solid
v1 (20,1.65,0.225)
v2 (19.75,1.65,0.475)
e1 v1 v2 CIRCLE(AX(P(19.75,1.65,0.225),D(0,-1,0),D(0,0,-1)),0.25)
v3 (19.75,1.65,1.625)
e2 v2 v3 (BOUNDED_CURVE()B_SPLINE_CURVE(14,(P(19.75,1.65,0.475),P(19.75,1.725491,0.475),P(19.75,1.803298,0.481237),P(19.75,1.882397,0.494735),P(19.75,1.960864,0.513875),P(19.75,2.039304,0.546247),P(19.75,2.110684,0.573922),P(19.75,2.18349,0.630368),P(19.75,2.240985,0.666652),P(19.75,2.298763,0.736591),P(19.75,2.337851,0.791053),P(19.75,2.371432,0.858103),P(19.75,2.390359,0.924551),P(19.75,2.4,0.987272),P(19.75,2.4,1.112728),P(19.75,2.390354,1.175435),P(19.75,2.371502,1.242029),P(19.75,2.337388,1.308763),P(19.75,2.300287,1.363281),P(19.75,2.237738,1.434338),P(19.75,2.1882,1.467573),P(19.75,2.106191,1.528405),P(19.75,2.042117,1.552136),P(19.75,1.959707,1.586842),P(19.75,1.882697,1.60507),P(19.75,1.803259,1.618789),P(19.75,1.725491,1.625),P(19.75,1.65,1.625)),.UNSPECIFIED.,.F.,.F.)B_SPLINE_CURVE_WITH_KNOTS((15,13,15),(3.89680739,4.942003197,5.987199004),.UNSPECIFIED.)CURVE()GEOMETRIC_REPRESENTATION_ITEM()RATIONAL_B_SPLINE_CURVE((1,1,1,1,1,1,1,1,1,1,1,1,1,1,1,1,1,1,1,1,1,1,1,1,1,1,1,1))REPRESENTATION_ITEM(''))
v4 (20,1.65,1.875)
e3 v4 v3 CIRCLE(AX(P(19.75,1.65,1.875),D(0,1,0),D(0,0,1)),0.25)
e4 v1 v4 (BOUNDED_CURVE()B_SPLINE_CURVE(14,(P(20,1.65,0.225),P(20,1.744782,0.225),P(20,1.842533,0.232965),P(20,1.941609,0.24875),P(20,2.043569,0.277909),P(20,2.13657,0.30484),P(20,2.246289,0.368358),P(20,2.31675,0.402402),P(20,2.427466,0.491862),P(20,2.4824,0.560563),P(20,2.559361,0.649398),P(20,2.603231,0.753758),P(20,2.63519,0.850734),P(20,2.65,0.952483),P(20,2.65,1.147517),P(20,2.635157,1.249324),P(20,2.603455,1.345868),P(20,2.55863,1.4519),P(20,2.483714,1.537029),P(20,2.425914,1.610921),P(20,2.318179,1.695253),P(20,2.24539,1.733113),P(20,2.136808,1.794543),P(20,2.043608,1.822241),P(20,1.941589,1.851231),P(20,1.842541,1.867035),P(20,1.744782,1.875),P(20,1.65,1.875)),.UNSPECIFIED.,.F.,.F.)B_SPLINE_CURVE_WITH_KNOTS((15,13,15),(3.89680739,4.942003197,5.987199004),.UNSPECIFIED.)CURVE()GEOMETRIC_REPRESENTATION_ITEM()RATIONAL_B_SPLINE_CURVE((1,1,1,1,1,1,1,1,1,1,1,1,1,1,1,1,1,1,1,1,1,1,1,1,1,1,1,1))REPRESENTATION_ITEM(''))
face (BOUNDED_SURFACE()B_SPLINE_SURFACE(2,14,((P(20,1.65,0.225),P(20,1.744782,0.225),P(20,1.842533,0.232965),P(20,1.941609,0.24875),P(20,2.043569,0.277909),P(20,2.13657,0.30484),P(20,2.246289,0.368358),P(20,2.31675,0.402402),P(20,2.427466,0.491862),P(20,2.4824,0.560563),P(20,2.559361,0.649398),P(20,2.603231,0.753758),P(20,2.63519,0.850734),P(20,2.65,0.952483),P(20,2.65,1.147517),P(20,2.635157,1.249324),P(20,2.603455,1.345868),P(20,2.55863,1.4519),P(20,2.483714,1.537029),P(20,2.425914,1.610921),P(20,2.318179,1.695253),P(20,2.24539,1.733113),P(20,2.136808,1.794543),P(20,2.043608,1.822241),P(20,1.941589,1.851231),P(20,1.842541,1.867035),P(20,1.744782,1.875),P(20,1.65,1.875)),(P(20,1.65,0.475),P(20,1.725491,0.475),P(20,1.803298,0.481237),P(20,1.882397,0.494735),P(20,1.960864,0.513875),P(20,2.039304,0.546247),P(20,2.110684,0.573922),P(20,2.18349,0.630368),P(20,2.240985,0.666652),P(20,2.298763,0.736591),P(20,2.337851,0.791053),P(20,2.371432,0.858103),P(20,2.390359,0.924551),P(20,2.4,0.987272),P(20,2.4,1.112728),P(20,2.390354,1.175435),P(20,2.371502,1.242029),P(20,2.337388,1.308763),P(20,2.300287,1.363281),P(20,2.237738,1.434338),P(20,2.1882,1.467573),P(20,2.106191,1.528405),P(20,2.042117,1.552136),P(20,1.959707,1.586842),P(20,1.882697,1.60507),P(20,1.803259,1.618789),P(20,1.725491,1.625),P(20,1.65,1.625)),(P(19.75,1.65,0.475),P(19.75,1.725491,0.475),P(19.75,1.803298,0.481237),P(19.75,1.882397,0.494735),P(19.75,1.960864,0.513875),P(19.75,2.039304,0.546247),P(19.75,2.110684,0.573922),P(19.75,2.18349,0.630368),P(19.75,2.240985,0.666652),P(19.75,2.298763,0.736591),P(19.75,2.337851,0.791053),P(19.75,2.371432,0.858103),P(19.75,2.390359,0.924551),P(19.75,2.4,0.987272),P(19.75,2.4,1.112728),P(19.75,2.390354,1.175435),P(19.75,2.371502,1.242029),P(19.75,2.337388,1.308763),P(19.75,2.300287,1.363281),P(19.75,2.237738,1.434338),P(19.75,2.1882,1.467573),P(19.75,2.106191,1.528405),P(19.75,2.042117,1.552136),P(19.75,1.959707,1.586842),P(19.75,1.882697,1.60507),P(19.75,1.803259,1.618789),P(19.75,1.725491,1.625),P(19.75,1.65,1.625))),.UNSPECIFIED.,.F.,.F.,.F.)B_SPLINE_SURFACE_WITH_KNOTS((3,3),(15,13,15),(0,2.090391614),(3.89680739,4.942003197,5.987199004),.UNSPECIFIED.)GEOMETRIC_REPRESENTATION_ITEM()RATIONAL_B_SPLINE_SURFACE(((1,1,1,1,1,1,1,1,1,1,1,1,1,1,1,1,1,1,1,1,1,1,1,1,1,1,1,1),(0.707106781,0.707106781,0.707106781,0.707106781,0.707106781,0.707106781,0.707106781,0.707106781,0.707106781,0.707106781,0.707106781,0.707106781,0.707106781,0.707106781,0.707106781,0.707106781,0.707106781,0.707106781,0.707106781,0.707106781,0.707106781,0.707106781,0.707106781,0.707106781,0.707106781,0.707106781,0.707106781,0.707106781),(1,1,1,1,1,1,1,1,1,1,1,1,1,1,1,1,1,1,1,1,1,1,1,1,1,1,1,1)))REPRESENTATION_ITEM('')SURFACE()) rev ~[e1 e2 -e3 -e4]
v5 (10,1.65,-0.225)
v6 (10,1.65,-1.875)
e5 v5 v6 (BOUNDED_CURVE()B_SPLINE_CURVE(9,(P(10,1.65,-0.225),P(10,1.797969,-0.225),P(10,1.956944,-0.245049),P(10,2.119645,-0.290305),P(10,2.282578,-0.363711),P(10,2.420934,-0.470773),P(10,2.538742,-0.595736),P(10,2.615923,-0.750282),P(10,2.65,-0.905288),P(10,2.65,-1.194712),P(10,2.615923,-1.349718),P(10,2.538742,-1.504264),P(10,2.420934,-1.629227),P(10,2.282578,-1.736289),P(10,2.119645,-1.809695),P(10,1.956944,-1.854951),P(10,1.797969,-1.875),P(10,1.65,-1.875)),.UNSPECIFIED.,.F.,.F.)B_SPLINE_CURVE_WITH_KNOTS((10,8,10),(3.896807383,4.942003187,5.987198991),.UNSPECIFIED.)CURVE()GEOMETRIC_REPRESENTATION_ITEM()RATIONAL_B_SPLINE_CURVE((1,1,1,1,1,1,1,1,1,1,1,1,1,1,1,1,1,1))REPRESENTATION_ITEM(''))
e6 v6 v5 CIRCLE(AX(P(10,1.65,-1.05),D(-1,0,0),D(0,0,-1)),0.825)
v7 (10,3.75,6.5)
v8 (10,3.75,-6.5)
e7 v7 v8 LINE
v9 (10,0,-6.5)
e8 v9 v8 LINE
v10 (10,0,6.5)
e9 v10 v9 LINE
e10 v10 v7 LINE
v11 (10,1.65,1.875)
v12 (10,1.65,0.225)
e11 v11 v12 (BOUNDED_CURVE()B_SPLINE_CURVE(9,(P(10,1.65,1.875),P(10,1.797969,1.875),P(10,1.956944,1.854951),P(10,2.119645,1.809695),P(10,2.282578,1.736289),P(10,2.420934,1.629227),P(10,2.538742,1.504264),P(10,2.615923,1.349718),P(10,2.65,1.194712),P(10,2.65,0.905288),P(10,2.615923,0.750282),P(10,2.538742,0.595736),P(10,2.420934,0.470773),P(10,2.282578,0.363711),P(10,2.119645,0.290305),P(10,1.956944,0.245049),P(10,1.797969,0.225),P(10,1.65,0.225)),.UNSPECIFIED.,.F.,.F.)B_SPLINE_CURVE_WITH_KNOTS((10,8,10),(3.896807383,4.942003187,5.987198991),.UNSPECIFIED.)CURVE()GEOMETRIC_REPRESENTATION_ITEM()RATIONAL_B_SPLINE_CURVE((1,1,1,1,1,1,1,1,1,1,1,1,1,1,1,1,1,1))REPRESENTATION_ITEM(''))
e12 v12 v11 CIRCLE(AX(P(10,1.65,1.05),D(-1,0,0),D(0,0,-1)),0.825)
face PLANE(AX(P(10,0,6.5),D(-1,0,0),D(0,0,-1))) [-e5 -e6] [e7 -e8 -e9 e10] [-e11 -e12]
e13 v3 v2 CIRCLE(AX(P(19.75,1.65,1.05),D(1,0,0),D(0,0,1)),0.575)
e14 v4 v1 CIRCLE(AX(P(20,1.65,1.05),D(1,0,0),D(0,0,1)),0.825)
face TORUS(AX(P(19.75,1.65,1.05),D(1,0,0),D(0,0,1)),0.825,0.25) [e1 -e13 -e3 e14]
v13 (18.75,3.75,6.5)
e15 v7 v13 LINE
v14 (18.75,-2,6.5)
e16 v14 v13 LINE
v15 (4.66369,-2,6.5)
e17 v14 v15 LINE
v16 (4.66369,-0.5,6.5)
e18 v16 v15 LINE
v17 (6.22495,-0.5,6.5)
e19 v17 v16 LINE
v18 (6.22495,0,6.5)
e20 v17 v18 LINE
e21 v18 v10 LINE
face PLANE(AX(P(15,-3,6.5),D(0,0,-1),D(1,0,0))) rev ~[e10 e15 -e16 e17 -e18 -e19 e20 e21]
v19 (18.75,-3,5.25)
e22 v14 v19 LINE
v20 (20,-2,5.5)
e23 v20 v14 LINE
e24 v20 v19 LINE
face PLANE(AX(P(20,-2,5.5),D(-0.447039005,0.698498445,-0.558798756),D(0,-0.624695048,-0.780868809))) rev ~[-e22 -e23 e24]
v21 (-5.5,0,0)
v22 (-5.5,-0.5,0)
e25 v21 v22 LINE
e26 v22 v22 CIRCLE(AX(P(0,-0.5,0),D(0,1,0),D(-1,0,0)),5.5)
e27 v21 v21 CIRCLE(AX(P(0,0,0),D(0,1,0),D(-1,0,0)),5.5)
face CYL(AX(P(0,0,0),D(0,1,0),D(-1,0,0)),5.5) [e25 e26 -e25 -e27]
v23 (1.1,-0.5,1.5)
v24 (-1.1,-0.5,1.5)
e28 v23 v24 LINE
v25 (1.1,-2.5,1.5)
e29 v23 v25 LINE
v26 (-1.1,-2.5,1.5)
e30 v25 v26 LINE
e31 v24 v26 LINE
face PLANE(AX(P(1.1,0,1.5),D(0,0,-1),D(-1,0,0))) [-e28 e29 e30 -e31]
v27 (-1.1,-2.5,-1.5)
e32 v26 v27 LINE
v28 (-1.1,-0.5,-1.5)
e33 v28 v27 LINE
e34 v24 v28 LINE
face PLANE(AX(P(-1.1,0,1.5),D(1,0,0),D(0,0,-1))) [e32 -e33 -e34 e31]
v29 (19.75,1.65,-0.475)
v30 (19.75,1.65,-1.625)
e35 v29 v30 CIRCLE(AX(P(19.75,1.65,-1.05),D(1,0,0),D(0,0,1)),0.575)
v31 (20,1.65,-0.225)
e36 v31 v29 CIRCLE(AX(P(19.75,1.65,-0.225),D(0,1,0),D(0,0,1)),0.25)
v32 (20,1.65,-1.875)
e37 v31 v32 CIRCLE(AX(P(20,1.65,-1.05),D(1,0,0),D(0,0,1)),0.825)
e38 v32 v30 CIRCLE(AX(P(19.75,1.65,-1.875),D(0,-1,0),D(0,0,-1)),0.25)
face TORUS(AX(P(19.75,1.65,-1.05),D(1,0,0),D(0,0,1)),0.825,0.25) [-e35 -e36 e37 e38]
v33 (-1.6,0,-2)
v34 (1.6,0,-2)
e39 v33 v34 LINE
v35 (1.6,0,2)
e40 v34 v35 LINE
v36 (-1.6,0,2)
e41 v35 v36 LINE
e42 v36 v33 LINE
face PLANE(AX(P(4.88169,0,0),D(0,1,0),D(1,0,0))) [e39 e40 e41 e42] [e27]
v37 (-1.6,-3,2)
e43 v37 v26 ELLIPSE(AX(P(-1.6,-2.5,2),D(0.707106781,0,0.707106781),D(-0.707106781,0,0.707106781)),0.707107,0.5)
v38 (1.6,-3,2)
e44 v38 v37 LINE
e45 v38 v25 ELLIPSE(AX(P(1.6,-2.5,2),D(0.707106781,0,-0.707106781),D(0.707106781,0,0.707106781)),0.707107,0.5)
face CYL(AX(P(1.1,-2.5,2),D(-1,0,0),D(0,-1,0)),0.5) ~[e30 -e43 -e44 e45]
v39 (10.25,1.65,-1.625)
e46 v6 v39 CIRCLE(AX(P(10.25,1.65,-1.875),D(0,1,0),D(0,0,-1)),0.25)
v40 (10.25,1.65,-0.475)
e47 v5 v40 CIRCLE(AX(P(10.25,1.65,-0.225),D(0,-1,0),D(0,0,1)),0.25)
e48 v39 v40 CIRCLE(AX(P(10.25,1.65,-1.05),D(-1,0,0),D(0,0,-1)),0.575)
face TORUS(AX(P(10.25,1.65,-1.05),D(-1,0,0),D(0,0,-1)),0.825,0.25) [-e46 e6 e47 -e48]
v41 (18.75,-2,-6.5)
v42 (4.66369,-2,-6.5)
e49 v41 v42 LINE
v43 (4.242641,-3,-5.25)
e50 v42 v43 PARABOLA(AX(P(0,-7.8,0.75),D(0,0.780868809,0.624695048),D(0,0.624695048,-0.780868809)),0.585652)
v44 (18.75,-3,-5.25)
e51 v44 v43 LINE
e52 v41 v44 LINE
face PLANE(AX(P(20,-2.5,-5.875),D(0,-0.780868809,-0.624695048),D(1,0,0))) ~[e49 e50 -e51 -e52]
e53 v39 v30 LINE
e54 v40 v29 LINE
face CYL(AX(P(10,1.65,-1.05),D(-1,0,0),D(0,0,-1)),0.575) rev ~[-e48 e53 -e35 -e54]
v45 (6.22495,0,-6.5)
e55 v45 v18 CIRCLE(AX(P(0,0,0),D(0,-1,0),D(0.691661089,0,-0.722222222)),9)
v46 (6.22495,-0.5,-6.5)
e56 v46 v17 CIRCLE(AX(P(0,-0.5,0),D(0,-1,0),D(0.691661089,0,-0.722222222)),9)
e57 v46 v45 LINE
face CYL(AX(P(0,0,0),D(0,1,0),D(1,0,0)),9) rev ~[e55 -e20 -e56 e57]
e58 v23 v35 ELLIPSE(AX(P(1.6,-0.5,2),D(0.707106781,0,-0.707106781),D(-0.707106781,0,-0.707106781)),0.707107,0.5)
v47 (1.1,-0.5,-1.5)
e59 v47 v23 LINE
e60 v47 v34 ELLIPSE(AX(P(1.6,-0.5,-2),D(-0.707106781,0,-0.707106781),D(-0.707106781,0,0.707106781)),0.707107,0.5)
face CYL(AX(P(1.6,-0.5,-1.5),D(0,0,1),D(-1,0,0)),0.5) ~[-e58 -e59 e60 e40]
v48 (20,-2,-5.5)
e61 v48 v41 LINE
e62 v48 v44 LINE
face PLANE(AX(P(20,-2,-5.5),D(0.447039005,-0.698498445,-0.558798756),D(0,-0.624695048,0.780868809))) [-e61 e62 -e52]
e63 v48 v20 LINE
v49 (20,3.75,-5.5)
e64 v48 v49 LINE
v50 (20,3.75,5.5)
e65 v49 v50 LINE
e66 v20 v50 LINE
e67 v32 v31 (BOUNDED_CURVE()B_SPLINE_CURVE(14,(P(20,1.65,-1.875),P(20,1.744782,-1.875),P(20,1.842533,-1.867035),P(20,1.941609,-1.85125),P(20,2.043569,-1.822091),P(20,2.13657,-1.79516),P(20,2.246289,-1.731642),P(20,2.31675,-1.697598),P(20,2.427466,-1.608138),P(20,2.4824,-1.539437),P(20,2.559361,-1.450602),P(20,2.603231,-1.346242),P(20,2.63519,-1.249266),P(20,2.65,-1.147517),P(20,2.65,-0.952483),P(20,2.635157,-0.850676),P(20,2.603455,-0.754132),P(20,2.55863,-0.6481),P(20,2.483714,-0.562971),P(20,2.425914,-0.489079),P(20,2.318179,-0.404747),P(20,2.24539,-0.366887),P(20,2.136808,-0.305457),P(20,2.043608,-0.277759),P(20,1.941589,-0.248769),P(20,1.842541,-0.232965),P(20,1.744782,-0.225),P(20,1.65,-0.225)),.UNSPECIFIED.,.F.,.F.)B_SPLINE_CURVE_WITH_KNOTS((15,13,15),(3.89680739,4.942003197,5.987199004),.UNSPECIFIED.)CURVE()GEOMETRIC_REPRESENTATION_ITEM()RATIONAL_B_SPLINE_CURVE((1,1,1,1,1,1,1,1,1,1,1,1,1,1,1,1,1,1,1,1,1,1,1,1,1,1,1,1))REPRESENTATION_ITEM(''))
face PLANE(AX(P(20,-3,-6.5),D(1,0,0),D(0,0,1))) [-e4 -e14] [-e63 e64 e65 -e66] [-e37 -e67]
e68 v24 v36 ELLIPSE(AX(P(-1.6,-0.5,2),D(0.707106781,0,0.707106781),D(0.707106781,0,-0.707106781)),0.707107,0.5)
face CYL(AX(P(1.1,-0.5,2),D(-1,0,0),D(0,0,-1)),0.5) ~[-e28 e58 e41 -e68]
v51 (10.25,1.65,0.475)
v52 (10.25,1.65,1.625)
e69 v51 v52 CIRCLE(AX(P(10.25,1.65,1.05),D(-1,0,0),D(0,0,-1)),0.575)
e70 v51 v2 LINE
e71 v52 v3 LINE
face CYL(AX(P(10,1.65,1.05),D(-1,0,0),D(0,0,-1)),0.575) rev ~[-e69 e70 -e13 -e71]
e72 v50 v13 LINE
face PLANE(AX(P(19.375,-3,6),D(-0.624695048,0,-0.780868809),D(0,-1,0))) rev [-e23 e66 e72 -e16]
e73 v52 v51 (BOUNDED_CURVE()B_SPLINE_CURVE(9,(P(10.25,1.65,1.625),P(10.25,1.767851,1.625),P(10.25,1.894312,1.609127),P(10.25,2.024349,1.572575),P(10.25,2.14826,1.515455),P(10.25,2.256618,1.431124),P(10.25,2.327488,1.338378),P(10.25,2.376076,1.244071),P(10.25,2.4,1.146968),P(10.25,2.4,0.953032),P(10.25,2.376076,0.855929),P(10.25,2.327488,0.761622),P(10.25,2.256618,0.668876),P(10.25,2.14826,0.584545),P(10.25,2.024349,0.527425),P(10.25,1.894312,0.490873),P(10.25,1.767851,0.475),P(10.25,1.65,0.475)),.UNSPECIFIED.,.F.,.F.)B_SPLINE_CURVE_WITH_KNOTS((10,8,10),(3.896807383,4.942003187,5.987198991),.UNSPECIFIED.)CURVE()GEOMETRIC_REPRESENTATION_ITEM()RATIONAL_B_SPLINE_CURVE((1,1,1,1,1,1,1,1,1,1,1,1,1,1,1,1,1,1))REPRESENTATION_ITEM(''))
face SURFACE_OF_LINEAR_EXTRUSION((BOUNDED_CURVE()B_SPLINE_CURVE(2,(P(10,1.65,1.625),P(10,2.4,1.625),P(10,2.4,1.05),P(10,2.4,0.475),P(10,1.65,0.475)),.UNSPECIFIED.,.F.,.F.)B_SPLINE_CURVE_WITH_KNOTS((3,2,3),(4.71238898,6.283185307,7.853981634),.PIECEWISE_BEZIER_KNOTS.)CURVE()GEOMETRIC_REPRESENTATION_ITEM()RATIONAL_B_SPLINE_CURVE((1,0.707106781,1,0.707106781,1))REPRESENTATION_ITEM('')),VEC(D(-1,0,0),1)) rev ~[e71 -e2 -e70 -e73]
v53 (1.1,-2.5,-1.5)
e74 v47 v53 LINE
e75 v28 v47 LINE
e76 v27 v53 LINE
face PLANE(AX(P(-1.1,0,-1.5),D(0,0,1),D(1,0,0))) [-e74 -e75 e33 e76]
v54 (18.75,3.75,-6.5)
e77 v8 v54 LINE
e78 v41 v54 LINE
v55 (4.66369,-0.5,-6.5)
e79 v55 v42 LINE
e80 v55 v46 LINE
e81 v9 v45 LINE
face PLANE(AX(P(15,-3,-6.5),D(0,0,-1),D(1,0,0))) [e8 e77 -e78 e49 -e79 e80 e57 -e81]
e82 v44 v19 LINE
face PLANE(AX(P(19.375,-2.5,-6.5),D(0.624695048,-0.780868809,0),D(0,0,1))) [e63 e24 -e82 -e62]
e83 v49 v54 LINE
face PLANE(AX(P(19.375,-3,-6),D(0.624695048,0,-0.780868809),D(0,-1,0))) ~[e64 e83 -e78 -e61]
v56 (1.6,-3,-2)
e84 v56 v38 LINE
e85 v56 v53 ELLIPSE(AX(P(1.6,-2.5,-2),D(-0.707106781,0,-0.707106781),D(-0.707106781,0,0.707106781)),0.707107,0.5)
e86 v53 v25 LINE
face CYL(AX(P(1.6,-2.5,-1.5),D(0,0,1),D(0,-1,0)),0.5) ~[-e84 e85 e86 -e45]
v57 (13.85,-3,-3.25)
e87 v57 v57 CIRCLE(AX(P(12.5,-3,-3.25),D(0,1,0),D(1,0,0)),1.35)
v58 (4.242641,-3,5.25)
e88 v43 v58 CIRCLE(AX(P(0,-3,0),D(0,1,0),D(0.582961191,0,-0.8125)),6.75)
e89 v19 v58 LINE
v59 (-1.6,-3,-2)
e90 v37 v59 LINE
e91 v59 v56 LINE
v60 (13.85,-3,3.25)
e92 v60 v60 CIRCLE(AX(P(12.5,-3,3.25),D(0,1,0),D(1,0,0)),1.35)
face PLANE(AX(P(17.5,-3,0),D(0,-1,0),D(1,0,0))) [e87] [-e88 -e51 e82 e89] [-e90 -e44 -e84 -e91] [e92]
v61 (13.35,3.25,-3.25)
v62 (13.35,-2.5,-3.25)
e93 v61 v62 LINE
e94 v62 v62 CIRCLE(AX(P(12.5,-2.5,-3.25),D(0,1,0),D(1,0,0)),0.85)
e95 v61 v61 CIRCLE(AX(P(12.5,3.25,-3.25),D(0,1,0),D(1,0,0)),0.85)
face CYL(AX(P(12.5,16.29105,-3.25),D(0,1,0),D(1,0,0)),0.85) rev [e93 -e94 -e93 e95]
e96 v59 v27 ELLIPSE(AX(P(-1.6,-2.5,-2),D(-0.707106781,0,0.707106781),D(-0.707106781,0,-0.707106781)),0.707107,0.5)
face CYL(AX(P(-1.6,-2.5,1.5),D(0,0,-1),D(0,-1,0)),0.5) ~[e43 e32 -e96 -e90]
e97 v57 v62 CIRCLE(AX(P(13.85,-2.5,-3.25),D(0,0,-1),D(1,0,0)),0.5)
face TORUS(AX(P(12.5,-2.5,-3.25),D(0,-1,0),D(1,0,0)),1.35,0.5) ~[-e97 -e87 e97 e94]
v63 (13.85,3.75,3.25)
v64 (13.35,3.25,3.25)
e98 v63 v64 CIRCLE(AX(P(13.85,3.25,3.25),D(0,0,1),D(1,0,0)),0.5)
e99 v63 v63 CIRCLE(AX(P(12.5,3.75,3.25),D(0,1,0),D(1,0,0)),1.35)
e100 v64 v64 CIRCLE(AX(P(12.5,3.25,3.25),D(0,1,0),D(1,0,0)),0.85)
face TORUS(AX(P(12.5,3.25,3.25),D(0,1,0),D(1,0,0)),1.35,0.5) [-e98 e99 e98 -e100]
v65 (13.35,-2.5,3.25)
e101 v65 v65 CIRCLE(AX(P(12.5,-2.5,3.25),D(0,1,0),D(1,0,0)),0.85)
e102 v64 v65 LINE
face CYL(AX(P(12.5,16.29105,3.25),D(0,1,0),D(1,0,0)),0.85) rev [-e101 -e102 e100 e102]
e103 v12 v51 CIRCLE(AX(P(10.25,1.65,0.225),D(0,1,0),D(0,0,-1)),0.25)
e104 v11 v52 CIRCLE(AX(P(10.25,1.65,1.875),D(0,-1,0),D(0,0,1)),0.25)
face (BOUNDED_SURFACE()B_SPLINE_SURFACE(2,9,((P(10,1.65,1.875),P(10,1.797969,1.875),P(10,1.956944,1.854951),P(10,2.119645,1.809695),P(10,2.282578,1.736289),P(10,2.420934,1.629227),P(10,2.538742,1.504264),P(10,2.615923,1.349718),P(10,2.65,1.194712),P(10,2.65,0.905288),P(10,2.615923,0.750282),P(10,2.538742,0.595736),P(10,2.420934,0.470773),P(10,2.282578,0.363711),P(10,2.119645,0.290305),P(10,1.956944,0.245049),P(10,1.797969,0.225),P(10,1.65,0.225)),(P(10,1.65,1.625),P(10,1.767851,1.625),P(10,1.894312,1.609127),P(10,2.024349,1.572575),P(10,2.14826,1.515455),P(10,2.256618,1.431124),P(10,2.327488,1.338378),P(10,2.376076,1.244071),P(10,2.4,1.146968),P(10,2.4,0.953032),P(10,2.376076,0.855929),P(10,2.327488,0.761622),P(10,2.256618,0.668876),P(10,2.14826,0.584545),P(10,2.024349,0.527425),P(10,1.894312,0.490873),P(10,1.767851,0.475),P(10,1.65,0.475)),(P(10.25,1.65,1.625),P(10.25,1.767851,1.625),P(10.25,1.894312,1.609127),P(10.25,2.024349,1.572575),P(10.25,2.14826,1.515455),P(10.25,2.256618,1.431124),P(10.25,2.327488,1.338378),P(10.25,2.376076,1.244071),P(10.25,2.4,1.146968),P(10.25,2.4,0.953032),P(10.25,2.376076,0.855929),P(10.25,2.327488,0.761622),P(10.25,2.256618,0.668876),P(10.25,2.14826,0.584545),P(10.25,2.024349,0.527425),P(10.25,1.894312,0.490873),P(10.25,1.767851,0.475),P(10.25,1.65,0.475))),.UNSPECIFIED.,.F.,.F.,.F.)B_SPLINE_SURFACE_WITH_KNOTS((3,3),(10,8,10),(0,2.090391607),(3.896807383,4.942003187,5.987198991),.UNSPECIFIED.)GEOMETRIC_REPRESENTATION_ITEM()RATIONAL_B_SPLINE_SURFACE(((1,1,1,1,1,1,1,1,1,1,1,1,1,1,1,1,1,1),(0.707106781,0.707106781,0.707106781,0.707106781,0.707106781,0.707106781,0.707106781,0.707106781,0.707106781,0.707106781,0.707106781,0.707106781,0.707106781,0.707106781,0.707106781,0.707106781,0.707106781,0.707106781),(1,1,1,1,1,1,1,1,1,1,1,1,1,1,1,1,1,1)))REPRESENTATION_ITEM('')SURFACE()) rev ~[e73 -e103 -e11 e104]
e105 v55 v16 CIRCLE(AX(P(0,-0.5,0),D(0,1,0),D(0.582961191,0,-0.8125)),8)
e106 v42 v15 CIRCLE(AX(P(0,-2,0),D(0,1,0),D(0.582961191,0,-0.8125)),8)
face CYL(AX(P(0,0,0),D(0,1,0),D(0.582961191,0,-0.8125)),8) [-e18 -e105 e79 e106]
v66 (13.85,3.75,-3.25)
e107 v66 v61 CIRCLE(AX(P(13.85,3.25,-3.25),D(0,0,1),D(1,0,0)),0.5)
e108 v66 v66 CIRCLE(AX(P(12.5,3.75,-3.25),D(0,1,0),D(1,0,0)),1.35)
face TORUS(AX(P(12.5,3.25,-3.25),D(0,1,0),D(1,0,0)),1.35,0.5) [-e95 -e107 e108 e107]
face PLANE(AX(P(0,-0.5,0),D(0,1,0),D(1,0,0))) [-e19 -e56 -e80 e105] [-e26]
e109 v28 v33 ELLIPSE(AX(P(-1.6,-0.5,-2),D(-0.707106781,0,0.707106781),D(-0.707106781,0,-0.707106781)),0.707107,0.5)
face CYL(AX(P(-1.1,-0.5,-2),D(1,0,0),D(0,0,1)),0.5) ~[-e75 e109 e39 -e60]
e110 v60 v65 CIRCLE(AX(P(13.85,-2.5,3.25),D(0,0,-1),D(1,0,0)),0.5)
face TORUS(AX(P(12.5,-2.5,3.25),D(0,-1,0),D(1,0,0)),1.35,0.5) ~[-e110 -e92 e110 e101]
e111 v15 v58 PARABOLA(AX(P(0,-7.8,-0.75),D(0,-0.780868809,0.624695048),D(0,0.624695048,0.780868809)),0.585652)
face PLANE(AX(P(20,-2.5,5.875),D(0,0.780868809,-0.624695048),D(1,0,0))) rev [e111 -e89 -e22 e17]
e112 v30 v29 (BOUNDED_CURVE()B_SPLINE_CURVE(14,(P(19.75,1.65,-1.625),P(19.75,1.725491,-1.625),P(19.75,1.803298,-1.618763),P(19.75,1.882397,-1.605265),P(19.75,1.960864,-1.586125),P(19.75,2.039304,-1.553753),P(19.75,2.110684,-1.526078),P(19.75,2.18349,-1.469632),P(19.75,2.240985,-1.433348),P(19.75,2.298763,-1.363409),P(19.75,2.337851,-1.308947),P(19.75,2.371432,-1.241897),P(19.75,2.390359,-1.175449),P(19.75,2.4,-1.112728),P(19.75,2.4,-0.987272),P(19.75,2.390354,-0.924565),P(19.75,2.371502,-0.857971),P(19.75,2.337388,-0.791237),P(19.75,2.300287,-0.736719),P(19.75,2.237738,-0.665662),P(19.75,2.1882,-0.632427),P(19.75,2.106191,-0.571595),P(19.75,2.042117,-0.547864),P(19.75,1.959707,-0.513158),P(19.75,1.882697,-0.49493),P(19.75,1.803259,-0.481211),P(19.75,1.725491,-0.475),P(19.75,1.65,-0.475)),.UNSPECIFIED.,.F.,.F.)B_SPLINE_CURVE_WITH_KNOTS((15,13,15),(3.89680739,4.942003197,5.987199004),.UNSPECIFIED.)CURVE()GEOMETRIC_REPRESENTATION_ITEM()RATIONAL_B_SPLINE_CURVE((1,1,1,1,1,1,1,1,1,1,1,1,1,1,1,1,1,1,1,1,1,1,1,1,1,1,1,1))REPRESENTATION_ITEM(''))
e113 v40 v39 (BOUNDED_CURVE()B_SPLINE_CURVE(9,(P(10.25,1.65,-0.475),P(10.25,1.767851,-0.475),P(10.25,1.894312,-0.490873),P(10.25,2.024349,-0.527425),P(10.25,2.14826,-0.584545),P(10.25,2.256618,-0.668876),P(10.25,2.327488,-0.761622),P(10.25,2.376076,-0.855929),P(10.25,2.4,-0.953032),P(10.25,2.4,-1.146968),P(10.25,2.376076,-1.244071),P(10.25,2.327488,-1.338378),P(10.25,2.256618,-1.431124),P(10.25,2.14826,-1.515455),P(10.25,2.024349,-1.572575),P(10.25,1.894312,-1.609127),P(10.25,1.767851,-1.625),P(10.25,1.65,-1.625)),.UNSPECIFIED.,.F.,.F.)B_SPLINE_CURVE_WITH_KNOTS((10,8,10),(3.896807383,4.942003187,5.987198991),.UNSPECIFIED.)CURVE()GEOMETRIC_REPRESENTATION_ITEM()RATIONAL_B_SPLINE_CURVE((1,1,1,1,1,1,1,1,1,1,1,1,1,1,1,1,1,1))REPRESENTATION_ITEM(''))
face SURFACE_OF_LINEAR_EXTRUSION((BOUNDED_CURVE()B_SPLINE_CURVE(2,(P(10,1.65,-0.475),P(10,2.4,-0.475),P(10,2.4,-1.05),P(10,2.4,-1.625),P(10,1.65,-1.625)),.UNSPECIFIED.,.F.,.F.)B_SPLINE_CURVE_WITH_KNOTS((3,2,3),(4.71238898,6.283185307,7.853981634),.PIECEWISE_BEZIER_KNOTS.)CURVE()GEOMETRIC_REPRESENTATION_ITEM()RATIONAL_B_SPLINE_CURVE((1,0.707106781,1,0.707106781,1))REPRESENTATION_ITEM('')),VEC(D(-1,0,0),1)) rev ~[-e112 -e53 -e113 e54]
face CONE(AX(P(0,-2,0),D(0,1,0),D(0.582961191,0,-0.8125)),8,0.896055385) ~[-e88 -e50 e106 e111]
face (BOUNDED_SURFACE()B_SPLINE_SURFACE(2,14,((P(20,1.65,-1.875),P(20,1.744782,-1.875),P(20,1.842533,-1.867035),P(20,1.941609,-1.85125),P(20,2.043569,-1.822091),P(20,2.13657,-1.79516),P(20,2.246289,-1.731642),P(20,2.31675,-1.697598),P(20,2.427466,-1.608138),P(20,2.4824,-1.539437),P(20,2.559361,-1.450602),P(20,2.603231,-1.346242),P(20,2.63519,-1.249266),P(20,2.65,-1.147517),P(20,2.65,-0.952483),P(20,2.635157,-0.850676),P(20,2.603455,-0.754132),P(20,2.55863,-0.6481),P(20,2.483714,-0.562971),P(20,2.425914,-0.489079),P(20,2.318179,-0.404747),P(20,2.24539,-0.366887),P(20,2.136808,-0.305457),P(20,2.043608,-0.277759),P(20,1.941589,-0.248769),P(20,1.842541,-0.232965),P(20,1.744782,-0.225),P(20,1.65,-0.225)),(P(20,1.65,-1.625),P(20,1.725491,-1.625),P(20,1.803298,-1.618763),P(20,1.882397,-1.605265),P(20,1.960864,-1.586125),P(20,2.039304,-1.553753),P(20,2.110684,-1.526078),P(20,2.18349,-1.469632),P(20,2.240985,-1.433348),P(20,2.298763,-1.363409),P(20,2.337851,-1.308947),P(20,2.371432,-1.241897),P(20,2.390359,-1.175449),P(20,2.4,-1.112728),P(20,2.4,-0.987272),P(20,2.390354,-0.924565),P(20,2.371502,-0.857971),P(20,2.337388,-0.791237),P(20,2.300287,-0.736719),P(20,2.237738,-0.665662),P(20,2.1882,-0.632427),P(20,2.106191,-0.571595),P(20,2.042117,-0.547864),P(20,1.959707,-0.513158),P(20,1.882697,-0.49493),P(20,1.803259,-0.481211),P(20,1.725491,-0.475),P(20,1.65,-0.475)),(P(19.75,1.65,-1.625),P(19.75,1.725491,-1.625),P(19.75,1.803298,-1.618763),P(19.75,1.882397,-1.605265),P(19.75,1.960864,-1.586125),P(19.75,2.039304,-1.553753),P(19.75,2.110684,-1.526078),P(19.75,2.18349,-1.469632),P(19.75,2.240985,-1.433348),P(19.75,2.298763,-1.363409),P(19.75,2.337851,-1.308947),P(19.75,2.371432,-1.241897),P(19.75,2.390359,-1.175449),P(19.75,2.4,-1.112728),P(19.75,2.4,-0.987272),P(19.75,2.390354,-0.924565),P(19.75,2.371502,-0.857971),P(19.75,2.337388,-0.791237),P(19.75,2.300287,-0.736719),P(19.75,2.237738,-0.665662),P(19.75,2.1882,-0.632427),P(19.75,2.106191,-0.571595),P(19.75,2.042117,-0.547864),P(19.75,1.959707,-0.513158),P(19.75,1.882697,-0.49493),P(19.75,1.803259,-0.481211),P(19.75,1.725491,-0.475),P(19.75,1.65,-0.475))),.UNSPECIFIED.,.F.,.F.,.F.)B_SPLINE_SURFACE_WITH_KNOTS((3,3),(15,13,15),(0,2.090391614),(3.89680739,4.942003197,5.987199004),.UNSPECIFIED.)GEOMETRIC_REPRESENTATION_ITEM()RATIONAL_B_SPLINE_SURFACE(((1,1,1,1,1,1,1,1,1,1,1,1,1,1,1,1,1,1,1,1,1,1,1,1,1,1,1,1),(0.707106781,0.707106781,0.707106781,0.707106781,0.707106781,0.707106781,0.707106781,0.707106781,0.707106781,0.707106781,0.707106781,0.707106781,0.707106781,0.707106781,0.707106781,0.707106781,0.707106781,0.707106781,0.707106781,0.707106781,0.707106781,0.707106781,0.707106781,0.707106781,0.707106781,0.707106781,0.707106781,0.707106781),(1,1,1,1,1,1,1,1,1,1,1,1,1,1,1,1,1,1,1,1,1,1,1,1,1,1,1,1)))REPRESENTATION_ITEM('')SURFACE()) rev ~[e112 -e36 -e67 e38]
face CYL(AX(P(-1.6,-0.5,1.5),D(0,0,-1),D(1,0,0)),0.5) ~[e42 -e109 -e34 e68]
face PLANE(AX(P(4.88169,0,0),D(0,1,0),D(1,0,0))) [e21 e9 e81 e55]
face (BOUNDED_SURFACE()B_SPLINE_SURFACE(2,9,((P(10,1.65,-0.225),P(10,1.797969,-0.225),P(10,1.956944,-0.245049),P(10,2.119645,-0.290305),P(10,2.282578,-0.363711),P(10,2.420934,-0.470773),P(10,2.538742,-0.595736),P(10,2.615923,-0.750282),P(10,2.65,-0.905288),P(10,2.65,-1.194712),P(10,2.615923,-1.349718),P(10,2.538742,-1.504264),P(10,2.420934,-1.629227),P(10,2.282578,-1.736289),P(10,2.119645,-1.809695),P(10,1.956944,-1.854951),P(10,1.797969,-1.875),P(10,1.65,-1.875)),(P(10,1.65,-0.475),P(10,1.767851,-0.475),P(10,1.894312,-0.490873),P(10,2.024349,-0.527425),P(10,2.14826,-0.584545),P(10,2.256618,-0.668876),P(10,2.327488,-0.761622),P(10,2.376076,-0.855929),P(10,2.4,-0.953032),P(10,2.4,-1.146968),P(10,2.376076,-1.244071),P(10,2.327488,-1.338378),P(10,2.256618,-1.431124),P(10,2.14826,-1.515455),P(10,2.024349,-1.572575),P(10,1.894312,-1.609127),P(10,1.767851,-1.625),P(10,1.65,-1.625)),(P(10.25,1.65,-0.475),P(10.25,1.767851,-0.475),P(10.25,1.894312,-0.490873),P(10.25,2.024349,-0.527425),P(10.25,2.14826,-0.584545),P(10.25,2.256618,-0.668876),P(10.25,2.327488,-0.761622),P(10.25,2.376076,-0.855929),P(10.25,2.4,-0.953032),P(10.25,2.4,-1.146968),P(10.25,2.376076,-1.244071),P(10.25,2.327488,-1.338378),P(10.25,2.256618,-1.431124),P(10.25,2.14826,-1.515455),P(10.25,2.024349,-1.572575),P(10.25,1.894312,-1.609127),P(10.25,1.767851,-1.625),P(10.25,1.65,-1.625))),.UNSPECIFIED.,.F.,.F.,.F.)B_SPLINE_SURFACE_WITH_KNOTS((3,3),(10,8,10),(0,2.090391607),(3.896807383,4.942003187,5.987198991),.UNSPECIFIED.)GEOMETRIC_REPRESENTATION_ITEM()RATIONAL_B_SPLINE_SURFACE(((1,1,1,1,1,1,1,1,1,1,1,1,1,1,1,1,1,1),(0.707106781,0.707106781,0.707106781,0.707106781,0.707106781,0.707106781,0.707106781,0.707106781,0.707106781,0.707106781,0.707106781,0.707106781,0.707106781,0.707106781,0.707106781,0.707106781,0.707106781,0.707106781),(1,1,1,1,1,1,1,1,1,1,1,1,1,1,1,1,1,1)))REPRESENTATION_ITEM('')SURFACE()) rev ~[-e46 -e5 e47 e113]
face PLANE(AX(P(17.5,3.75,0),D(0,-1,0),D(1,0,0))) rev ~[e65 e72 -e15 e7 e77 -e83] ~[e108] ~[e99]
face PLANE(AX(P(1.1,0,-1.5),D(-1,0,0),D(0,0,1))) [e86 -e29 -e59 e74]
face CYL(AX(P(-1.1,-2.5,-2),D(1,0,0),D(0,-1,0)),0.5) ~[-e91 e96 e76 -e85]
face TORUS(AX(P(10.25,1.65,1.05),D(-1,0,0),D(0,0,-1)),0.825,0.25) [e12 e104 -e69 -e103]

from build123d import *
from OCP.BRepFilletAPI import BRepFilletAPI_MakeChamfer

# Parameters (mm, degrees)
BOSS_EXTRUDE1_DEPTH     = 3
SKETCH2_R               = 9
SKETCH2_R_2             = 5.5
CUT_EXTRUDE1_DEPTH      = 0.5
SKETCH3_W               = 5
SKETCH3_H               = 13
BOSS_EXTRUDE2_DEPTH     = 3.75
CUT_EXTRUDE2_DEPTH      = 19.291049724
CUT_EXTRUDE2_DEPTH_BACK = 19.291049724
SKETCH4_R               = 0.85
SKETCH5_W               = 5
SKETCH5_H               = 13
BOSS_EXTRUDE3_DEPTH     = 6.75
CHAMFER1_SIZE           = 1
CHAMFER1_SIZE2          = 1.25
FILLET1_R               = 0.5
CUT_EXTRUDE3_DEPTH      = 21.051496204
FILLET2_R               = 0.25


with BuildPart() as part:
    # Sketch1 → Boss-Extrude1 (new body)
    with BuildSketch(Plane(origin=(0, 0, 0), x_dir=(1, 0, 0), z_dir=(0, 1, 0))):
        with BuildLine():
            Line((15, 6.5), (4.663689527, 6.5))
            ThreePointArc((4.663689527, 6.5), (-8, 0), (4.663689527, -6.5))
            Line((4.663689527, -6.5), (15, -6.5))
            Line((15, -6.5), (15, 6.5))
        make_face()
        Polygon((-1.1, -1.019803903), (-1.1, 1.019803903), (-1.1, 1.5), (1.1, 1.5), (1.1, 1.019803903), (1.1, -1.019803903), (1.1, -1.5), (-1.1, -1.5), align=None, mode=Mode.SUBTRACT)
    extrude(amount=-BOSS_EXTRUDE1_DEPTH)

    # Sketch2 → Cut-Extrude1 (cut)
    with BuildSketch(Plane(origin=(0, 0, 0), x_dir=(1, 0, 0), z_dir=(0, 1, 0))):
        Circle(SKETCH2_R)
        with Locations(Location((0, 0, 0), (0, 0, 180))):
            Circle(SKETCH2_R_2, mode=Mode.SUBTRACT)
    extrude(amount=-CUT_EXTRUDE1_DEPTH, mode=Mode.SUBTRACT)

    # Sketch3 → Boss-Extrude2 (add)
    with BuildSketch(Plane(origin=(0, 0, 0), x_dir=(1, 0, 0), z_dir=(0, 1, 0))):
        with Locations((12.5, 0)):
            Rectangle(SKETCH3_W, SKETCH3_H)
    extrude(amount=BOSS_EXTRUDE2_DEPTH)

    # Sketch4 → Cut-Extrude2 (cut, two sides: drawn at the far end of the back side and taken through both)
    with BuildSketch(Plane.XZ.offset(3).offset(-CUT_EXTRUDE2_DEPTH_BACK)):
        with Locations((12.5, 3.25)):
            Circle(SKETCH4_R)
        with Locations((12.5, -3.25)):
            Circle(SKETCH4_R)
    extrude(amount=CUT_EXTRUDE2_DEPTH + CUT_EXTRUDE2_DEPTH_BACK, mode=Mode.SUBTRACT)

    # Sketch5 → Boss-Extrude3 (add)
    with BuildSketch(Plane.XZ.offset(3)):
        with Locations((17.5, 0)):
            Rectangle(SKETCH5_W, SKETCH5_H)
    extrude(amount=-BOSS_EXTRUDE3_DEPTH)

    # Chamfer1: one chamfer whose edges measure the first distance from different faces: ONE call of the kernel's chamfer builder (chamfer() names one face for all edges)
    chamfer1_edges_1 = [part.edges().sort_by_distance(p)[0] for p in [
        (12.331844763, -3, -6.5),
    ]]
    chamfer1_side_1 = [part.faces().sort_by_distance(p)[0] for p in [
        (13.606286876, 0.018062264, -6.5),
    ]]
    chamfer1_edges_2 = [part.edges().sort_by_distance(p)[0] for p in [
        (-8, -3, 0),
    ]]
    chamfer1_side_2 = [part.faces().sort_by_distance(p)[0] for p in [
        (-8, -1.75, 0),
    ]]
    chamfer1_edges_3 = [part.edges().sort_by_distance(p)[0] for p in [
        (12.331844763, -3, 6.5),
    ]]
    chamfer1_side_3 = [part.faces().sort_by_distance(p)[0] for p in [
        (13.606286876, 0.018062264, 6.5),
    ]]
    chamfer1_edges_4 = [part.edges().sort_by_distance(p)[0] for p in [
        (20, 0.375, 6.5),
        (20, 0.375, -6.5),
        (20, -3, 0),
    ]]
    chamfer1_side_4 = [part.faces().sort_by_distance(p)[0] for p in [
        (20, 0.375, 0),
    ]]
    chamfer1 = BRepFilletAPI_MakeChamfer(part.part.solid().wrapped)
    for e in chamfer1_edges_1:
        chamfer1.Add(CHAMFER1_SIZE, CHAMFER1_SIZE2, e.wrapped, chamfer1_side_1[0].wrapped)  # the first distance lies on this face
    for e in chamfer1_edges_2:
        chamfer1.Add(CHAMFER1_SIZE, CHAMFER1_SIZE2, e.wrapped, chamfer1_side_2[0].wrapped)  # the first distance lies on this face
    for e in chamfer1_edges_3:
        chamfer1.Add(CHAMFER1_SIZE, CHAMFER1_SIZE2, e.wrapped, chamfer1_side_3[0].wrapped)  # the first distance lies on this face
    for e in chamfer1_edges_4:
        chamfer1.Add(CHAMFER1_SIZE, CHAMFER1_SIZE2, e.wrapped, chamfer1_side_4[0].wrapped)  # the first distance lies on this face
    add(Compound.cast(chamfer1.Shape()), mode=Mode.REPLACE)

    # Fillet1
    fillet1_edges = [part.edges().sort_by_distance(p)[0] for p in [
        (1.1, -3, 0),
        (-1.1, 0, 0),
        (0, 0, 1.5),
        (1.1, 0, 0),
        (0, 0, -1.5),
        (0, -3, 1.5),
        (-1.1, -3, 0),
        (11.65, 3.75, 3.25),
        (11.65, -3, 3.25),
        (11.65, 3.75, -3.25),
        (11.65, -3, -3.25),
        (0, -3, -1.5),
    ]]
    fillet(fillet1_edges, radius=FILLET1_R)

    # Sketch6 → Cut-Extrude3 (cut, through all)
    with BuildSketch(Plane.ZY.offset(-10)):
        with BuildLine():
            ThreePointArc((0.475, 1.65), (1.05, 1.075), (1.625, 1.65))
            add(Edge.make_bspline(
                [(1.625, 1.65), (1.625, 2.4), (1.05, 2.4), (0.475, 2.4), (0.475, 1.65)],
                knots=[4.71238898, 4.71238898, 4.71238898, 6.283185307, 6.283185307, 7.853981634, 7.853981634, 7.853981634], degree=2, weights=[1, 0.707106781, 1, 0.707106781, 1]))
        make_face()
        with BuildLine():
            ThreePointArc((-1.625, 1.65), (-1.05, 1.075), (-0.475, 1.65))
            add(Edge.make_bspline(
                [(-0.475, 1.65), (-0.475, 2.4), (-1.05, 2.4), (-1.625, 2.4), (-1.625, 1.65)],
                knots=[4.71238898, 4.71238898, 4.71238898, 6.283185307, 6.283185307, 7.853981634, 7.853981634, 7.853981634], degree=2, weights=[1, 0.707106781, 1, 0.707106781, 1]))
        make_face()
    extrude(amount=-CUT_EXTRUDE3_DEPTH, mode=Mode.SUBTRACT)

    # Fillet2
    fillet2_edges = [part.edges().sort_by_distance(p)[0] for p in [
        (20, 2.4, -1.05),
        (20, 1.075, -1.05),
        (10, 2.4, -1.05),
        (10, 1.075, -1.05),
        (20, 2.4, 1.05),
        (20, 1.075, 1.05),
        (10, 2.4, 1.05),
        (10, 1.075, 1.05),
    ]]
    fillet(fillet2_edges, radius=FILLET2_R)


solid = part.part
